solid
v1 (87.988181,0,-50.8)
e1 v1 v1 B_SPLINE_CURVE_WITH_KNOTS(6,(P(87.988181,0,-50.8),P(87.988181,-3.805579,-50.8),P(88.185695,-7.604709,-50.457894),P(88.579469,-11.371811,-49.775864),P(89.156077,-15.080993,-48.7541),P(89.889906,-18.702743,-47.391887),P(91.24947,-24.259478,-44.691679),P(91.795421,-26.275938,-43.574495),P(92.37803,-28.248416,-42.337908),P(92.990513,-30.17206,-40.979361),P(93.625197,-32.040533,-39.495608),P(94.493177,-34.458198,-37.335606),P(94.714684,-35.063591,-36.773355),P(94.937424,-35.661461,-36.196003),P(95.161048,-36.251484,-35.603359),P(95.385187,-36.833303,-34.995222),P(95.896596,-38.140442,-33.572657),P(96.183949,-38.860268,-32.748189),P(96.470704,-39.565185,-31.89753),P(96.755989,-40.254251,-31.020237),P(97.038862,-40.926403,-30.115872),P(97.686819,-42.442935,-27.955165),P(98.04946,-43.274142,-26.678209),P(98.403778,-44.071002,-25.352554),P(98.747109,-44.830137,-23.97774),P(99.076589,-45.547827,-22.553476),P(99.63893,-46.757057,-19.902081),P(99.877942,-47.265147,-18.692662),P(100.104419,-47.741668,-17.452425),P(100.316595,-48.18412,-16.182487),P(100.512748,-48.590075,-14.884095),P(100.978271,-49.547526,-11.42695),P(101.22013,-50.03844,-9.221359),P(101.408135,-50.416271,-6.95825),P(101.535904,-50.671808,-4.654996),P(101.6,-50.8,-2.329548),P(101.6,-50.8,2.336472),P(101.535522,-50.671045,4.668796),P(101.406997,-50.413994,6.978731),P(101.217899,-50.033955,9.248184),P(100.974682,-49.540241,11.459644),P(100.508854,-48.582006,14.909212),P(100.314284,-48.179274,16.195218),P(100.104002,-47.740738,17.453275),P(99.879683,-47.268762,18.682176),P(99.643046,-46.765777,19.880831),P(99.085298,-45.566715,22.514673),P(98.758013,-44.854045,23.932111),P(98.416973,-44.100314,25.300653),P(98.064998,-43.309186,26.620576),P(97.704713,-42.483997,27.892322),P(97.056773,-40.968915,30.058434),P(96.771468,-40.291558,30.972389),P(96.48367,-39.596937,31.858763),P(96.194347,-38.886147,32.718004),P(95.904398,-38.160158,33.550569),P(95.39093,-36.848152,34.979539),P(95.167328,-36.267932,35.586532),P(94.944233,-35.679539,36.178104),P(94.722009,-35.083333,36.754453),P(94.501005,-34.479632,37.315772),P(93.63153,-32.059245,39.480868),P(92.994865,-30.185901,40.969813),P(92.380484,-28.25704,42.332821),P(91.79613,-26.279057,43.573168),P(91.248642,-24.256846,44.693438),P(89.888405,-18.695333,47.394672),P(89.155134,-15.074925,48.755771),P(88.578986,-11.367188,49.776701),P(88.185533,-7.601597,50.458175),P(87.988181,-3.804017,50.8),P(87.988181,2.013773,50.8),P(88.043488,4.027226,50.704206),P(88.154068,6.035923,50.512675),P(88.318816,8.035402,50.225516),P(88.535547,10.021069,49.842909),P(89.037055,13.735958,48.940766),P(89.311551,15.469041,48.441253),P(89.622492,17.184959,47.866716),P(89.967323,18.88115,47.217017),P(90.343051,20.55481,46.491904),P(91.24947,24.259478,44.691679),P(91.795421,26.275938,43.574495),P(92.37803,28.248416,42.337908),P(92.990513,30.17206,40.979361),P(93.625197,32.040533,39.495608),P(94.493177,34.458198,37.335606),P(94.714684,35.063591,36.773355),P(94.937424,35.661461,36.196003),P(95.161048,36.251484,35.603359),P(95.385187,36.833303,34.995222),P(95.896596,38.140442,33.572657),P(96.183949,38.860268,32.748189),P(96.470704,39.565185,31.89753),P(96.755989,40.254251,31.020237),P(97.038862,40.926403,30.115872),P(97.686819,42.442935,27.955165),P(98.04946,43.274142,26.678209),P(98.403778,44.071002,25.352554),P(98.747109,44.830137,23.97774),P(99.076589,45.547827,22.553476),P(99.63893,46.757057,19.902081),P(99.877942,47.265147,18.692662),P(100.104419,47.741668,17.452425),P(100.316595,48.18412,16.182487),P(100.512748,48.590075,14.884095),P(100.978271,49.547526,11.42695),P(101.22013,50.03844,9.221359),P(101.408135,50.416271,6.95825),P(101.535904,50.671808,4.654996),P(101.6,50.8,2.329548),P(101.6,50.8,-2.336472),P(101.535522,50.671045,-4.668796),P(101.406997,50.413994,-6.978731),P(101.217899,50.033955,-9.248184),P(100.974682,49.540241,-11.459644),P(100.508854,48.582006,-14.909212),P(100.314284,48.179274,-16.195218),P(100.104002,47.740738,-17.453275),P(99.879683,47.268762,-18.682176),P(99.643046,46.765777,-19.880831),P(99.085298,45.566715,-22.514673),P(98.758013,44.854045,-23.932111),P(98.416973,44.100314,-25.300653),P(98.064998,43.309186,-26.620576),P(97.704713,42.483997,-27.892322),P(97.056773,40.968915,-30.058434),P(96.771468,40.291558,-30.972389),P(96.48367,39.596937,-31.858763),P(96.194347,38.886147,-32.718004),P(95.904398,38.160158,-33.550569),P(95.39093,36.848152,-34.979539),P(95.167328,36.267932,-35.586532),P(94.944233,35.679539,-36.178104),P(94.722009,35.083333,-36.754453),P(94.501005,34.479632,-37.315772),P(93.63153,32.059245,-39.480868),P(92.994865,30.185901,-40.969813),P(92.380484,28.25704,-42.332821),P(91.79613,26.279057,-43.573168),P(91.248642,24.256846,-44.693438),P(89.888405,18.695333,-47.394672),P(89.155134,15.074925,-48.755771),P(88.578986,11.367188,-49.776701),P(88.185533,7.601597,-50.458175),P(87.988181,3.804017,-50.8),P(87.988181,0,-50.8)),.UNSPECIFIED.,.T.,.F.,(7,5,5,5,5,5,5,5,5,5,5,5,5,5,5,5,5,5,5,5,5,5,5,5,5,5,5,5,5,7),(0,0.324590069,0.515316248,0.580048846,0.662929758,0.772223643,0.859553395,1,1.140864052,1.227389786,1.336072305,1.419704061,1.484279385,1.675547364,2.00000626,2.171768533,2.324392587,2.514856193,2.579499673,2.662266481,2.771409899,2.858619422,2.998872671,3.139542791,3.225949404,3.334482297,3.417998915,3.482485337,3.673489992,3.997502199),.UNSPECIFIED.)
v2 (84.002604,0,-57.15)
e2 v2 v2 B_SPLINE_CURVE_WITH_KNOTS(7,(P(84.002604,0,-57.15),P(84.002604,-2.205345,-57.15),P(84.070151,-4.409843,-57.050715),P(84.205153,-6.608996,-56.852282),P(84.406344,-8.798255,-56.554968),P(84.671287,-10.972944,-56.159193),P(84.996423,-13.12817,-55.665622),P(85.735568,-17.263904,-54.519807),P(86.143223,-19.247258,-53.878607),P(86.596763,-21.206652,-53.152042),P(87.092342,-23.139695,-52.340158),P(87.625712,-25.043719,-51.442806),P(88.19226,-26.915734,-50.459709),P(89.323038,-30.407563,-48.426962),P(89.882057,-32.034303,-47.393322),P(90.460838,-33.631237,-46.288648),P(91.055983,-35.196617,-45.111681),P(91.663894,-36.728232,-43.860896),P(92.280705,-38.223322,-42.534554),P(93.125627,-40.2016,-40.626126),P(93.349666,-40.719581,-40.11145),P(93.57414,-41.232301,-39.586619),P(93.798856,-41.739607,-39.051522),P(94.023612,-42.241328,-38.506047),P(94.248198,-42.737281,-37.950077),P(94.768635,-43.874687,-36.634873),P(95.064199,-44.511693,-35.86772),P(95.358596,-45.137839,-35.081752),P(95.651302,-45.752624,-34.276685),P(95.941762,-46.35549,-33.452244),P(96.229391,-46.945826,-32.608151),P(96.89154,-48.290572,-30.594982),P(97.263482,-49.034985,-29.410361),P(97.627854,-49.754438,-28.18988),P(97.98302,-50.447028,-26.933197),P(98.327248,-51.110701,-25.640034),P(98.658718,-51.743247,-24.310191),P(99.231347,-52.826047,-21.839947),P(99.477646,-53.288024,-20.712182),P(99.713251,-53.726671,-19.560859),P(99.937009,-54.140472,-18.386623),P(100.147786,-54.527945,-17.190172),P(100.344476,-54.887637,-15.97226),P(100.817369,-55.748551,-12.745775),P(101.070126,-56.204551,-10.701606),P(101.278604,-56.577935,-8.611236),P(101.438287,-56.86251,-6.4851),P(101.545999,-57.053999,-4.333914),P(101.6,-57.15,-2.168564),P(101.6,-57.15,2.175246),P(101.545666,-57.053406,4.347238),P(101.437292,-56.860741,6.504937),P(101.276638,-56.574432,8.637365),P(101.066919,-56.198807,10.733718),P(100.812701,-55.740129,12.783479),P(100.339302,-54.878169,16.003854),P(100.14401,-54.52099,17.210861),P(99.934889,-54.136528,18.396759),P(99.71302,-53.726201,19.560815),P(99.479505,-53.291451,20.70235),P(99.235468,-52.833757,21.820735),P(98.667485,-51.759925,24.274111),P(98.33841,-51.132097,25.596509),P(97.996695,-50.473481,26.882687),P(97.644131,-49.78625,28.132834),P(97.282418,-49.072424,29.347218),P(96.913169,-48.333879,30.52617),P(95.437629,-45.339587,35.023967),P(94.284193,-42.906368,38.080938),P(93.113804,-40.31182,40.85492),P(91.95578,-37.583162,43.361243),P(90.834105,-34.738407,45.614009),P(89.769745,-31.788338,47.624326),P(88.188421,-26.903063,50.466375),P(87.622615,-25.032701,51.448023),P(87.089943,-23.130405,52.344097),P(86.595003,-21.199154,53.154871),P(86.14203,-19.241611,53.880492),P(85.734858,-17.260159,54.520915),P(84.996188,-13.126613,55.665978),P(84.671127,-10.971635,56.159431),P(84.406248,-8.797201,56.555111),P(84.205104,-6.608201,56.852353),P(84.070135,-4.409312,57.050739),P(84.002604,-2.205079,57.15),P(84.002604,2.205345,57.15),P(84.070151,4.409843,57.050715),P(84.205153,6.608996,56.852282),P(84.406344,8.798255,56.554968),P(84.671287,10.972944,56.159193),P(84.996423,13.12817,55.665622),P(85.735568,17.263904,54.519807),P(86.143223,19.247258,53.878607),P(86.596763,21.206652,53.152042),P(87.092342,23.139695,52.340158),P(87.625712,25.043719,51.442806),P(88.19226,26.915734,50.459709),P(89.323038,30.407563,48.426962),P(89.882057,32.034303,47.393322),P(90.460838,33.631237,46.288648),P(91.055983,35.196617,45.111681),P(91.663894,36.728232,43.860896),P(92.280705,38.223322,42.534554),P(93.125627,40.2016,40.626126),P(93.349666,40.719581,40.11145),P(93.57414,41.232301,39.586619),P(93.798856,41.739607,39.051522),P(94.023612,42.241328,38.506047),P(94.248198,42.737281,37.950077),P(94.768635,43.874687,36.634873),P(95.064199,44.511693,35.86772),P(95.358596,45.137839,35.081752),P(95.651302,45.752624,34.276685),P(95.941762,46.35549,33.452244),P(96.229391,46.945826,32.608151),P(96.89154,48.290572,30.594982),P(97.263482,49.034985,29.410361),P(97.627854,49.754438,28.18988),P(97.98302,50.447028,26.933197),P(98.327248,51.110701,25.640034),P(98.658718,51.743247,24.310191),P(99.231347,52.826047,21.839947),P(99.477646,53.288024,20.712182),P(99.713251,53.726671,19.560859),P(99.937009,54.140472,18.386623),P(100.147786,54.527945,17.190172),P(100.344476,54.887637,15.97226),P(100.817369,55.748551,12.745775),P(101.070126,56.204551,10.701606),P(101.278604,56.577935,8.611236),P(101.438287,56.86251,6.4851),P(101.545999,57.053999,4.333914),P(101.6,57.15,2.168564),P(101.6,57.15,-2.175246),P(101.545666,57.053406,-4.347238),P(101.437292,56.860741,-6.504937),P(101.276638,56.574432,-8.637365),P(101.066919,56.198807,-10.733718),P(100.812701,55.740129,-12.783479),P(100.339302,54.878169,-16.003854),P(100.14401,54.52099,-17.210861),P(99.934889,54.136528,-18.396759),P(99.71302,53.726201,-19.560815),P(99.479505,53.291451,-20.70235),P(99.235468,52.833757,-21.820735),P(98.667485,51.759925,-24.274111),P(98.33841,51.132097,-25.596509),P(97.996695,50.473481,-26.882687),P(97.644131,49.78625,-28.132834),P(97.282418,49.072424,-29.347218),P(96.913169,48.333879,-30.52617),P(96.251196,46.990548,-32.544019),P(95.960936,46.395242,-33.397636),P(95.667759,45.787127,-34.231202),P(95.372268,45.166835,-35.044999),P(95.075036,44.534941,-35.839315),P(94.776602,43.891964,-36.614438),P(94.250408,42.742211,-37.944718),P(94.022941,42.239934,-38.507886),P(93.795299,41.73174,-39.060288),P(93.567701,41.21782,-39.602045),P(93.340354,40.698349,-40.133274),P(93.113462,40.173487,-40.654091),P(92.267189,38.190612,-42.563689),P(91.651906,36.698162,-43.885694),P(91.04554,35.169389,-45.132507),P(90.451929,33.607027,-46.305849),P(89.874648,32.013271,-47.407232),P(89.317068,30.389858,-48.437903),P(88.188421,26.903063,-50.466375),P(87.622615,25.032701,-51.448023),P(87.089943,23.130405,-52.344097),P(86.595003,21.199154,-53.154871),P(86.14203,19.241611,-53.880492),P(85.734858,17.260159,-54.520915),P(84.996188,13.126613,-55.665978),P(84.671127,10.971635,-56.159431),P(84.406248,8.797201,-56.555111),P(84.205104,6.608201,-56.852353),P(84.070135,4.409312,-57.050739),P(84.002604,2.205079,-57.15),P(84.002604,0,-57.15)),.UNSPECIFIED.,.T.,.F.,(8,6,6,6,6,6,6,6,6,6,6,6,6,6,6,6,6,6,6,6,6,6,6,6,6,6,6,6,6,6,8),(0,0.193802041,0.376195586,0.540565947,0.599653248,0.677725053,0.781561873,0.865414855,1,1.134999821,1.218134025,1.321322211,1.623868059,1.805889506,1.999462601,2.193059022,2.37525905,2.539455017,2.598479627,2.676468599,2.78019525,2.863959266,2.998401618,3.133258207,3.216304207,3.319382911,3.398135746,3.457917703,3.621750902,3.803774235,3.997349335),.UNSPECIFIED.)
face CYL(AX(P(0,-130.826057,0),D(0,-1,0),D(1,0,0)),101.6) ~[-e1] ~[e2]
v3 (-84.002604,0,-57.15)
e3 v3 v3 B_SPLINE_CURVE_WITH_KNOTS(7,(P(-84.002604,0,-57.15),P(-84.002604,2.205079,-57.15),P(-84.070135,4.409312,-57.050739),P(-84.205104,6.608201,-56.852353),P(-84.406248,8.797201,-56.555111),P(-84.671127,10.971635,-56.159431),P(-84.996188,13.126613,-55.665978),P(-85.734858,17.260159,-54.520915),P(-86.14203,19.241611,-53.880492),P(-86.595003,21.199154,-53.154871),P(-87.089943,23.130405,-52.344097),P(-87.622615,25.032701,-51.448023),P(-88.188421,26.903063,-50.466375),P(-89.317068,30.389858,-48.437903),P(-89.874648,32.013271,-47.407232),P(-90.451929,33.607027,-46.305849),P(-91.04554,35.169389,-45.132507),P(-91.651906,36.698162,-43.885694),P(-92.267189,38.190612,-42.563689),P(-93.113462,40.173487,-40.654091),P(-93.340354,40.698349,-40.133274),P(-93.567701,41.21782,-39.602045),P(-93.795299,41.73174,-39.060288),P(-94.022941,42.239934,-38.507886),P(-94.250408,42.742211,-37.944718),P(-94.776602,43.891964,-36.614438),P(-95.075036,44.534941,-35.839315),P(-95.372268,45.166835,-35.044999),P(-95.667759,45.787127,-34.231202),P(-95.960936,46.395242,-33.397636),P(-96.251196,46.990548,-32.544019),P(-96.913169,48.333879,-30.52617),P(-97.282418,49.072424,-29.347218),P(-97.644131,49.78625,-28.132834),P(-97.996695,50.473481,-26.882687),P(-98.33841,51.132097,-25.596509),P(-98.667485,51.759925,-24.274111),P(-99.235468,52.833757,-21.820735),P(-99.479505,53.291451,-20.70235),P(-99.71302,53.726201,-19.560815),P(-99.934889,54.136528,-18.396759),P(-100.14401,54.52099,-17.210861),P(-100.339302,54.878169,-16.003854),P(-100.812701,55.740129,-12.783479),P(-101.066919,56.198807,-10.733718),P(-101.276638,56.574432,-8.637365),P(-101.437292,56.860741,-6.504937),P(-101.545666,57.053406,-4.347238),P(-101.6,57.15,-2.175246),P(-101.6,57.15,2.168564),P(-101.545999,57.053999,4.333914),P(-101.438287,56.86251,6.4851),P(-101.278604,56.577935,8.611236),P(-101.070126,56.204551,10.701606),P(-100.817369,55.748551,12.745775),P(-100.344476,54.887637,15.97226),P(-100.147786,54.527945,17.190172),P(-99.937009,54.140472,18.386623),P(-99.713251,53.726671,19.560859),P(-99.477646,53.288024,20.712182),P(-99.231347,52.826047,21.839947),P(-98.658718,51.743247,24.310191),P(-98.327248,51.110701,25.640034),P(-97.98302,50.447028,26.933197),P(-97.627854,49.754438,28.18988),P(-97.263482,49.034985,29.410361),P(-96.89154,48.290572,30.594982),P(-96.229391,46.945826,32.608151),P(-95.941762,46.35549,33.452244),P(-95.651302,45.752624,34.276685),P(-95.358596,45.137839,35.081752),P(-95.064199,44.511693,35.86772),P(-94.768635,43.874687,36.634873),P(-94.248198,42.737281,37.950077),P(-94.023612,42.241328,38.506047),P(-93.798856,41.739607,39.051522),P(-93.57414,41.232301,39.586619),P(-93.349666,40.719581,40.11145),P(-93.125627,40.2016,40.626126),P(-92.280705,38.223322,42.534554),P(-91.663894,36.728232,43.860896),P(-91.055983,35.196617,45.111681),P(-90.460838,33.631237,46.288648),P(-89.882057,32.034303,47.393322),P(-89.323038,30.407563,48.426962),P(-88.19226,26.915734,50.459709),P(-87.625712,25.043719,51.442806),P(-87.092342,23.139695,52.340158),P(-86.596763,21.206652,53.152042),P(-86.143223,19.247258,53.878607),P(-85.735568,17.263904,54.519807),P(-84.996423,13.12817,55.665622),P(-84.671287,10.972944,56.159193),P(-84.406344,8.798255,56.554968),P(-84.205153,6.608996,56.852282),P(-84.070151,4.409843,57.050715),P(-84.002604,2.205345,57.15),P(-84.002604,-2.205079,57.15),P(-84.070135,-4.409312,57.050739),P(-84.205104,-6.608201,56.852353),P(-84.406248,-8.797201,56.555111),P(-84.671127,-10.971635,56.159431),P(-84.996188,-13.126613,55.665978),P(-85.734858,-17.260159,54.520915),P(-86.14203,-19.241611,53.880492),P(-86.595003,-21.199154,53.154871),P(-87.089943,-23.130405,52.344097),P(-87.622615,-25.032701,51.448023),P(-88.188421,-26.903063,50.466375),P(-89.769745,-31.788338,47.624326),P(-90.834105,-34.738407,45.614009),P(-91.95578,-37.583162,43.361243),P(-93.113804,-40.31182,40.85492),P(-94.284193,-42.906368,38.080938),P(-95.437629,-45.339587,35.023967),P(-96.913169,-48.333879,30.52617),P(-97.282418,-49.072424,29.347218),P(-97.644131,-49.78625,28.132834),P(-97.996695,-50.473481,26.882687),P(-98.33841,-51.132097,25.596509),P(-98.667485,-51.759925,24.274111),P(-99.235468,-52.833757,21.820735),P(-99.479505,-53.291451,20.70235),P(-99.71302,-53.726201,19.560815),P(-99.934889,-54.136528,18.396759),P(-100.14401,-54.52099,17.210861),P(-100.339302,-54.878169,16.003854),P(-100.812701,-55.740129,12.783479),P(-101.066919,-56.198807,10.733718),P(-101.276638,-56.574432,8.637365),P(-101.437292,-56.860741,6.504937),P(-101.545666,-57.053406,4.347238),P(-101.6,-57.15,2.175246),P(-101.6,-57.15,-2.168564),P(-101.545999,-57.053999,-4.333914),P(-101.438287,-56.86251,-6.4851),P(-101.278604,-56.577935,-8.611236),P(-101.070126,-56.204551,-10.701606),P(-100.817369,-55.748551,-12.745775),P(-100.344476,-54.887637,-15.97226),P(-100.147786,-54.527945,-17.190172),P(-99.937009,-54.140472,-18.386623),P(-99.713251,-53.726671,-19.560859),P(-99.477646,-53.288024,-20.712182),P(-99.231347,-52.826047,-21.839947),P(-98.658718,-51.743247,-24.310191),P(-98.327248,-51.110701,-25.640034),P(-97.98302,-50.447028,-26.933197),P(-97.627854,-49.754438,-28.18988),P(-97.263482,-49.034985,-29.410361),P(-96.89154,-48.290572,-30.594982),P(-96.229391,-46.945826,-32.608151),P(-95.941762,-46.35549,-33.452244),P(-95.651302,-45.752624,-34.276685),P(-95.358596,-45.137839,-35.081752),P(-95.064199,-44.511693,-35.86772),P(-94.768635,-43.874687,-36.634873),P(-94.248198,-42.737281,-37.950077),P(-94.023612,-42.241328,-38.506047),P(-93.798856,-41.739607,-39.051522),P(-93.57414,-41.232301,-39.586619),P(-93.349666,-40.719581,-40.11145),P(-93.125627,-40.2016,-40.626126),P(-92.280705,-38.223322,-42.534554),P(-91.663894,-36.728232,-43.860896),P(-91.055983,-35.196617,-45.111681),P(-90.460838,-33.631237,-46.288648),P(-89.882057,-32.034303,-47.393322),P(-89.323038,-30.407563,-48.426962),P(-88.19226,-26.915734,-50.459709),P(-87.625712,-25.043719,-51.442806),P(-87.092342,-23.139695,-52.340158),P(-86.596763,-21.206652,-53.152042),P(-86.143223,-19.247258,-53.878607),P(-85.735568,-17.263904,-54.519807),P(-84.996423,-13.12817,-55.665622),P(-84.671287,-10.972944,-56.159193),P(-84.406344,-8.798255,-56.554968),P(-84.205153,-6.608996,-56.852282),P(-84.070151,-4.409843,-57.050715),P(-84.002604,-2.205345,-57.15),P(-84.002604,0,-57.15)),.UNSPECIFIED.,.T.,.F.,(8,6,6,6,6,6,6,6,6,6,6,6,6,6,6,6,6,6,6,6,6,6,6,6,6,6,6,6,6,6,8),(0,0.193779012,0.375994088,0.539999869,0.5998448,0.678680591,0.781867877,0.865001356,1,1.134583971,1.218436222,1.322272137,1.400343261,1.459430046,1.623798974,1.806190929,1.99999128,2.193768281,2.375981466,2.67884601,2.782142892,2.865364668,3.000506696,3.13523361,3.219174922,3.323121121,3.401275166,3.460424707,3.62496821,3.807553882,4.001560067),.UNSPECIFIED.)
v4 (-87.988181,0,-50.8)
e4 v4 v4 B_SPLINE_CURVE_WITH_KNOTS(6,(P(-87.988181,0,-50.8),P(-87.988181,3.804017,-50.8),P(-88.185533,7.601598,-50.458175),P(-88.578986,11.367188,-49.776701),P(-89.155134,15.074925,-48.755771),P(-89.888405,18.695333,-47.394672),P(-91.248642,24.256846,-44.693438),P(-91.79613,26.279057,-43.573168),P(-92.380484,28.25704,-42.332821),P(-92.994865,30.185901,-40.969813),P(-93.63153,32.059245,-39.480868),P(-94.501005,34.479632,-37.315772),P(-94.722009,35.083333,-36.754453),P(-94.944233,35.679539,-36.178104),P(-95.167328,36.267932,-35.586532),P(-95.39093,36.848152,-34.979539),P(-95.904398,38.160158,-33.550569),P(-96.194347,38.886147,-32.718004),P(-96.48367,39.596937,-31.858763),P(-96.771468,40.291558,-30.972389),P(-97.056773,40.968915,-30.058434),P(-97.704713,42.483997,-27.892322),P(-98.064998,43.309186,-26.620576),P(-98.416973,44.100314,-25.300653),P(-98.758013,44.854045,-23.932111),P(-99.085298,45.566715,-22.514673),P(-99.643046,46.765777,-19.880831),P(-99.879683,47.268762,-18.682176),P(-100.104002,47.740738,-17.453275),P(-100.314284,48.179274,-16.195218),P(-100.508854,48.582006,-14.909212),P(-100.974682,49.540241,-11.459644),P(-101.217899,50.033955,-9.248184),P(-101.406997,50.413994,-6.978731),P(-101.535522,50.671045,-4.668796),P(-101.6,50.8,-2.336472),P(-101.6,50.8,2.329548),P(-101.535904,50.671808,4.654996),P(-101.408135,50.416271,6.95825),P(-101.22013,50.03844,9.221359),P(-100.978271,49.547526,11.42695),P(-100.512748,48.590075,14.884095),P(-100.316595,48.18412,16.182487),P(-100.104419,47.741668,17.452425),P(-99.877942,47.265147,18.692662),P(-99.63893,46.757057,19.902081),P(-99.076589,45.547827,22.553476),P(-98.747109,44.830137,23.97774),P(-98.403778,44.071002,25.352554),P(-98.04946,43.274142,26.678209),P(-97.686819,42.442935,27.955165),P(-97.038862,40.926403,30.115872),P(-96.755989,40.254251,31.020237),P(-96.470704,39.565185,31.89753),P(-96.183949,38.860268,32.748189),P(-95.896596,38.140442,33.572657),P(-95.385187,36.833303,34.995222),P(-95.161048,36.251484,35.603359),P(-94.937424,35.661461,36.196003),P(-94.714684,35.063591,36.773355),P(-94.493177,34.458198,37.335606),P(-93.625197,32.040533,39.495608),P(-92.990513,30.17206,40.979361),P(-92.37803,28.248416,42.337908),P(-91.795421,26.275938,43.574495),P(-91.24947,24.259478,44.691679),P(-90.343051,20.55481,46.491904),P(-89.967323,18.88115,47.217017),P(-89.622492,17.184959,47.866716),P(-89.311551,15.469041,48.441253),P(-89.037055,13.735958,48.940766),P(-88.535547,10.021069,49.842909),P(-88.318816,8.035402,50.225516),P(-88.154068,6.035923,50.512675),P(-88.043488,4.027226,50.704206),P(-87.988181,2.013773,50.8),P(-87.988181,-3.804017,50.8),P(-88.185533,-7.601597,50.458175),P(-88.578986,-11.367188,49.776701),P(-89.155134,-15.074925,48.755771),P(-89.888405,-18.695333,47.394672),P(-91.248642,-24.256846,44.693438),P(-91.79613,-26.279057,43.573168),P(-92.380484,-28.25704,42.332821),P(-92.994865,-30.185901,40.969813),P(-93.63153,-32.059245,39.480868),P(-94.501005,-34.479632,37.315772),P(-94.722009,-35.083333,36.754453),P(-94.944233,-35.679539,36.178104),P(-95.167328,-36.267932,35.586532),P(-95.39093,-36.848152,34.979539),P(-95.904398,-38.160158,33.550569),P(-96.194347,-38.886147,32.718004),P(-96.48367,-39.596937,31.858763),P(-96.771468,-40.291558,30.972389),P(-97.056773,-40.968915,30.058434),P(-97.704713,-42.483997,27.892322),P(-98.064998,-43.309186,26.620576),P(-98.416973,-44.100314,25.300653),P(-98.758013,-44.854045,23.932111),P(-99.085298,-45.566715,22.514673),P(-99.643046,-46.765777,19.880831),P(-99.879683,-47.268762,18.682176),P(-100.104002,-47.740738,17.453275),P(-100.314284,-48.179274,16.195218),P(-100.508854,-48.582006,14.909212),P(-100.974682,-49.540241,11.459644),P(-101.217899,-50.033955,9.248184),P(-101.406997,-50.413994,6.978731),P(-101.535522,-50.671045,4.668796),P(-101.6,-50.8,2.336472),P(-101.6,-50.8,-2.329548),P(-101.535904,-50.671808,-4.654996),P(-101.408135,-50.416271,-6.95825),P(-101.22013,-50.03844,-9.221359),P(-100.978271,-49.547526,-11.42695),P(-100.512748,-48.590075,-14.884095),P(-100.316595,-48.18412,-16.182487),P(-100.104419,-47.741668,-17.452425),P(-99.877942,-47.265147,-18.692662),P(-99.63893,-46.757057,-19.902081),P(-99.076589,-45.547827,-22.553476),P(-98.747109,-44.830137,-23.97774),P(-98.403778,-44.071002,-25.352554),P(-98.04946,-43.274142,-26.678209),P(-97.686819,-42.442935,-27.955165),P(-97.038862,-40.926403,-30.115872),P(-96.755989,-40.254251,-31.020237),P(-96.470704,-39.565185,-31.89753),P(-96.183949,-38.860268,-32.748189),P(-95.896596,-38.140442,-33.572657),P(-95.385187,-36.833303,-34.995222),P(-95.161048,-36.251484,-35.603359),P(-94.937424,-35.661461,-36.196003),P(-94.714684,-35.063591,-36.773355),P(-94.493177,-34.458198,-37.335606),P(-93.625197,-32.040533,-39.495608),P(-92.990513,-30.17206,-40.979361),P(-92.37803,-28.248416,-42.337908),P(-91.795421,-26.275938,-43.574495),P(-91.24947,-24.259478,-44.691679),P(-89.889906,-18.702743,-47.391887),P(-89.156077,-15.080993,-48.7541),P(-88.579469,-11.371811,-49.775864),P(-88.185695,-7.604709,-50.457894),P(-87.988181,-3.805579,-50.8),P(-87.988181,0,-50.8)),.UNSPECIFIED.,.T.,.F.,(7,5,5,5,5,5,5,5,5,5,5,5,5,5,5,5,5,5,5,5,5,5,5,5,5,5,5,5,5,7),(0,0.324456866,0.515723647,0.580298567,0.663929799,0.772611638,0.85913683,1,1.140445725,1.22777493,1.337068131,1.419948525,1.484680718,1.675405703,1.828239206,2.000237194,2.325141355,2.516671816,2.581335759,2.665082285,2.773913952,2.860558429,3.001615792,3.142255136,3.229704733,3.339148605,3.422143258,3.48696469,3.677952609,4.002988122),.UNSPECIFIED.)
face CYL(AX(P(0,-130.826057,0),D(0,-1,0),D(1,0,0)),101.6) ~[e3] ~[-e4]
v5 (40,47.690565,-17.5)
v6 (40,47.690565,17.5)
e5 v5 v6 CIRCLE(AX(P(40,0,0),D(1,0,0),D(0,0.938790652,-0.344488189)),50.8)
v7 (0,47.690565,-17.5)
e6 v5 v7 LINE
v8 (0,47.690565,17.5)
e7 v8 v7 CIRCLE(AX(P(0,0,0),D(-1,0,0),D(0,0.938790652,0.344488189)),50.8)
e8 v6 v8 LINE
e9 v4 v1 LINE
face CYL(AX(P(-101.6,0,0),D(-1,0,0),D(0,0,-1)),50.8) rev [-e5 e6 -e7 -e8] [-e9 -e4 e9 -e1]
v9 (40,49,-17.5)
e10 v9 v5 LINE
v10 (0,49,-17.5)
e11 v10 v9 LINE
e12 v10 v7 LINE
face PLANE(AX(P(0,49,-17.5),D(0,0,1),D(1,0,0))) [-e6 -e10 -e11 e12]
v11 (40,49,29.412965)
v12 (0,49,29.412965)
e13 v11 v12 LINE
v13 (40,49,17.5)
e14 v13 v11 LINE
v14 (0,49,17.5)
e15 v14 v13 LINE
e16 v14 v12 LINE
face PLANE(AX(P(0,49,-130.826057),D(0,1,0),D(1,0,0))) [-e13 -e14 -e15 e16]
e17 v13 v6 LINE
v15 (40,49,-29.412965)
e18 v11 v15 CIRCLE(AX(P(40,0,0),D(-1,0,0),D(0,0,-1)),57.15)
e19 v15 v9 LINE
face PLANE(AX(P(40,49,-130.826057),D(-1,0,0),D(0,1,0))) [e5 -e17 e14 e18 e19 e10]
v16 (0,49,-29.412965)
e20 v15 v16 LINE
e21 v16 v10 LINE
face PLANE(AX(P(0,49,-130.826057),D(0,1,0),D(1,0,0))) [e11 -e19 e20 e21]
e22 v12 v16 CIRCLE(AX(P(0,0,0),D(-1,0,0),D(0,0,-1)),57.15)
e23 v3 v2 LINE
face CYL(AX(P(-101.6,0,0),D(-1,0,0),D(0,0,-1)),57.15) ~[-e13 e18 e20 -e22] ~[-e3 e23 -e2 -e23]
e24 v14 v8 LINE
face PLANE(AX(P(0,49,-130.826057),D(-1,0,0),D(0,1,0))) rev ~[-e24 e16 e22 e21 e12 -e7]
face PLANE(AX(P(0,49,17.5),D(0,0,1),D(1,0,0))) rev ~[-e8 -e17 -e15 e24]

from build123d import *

# Parameters (mm, degrees)
BOSS_EXTRUDE1_DEPTH      = 101.6
BOSS_EXTRUDE1_DEPTH_BACK = 101.6
SKETCH1_R                = 57.15
SKETCH1_R_2              = 50.8
CUT_EXTRUDE3_DEPTH       = 130.826056707
CUT_EXTRUDE3_DEPTH_BACK  = 130.826056707
SKETCH3_W                = 40
SKETCH3_H                = 10
SKETCH5_W                = 40
SKETCH5_H                = 35
CUT_EXTRUDE5_DEPTH       = 18.15
CUT_EXTRUDE6_DEPTH       = 130.826056707
CUT_EXTRUDE6_DEPTH_BACK  = 130.826056707
SKETCH6_W                = 252.16572489
SKETCH6_H                = 244.887597008
SKETCH6_R                = 101.6


with BuildPart() as part:
    # Sketch1 → Boss-Extrude1 (new, two sides: drawn at the far end of the back side and taken through both)
    with BuildSketch(Plane(origin=(0, 0, 0), x_dir=(0, 0, -1), z_dir=(1, 0, 0)).offset(-BOSS_EXTRUDE1_DEPTH_BACK)):
        Circle(SKETCH1_R)
        Circle(SKETCH1_R_2, mode=Mode.SUBTRACT)
    extrude(amount=BOSS_EXTRUDE1_DEPTH + BOSS_EXTRUDE1_DEPTH_BACK)

    # Sketch3 → Cut-Extrude3 (cut, two sides: drawn at the far end of the back side and taken through both)
    with BuildSketch(Plane.XY.offset(-CUT_EXTRUDE3_DEPTH_BACK)):
        with Locations((20, 54)):
            Rectangle(SKETCH3_W, SKETCH3_H)
    extrude(amount=CUT_EXTRUDE3_DEPTH + CUT_EXTRUDE3_DEPTH_BACK, mode=Mode.SUBTRACT)

    # Sketch5 → Cut-Extrude5 (cut)
    with BuildSketch(Plane(origin=(0, 49, 0), x_dir=(1, 0, 0), z_dir=(0, 1, 0))):
        with Locations((20, 0)):
            Rectangle(SKETCH5_W, SKETCH5_H)
    extrude(amount=-CUT_EXTRUDE5_DEPTH, mode=Mode.SUBTRACT)

    # Sketch6 → Cut-Extrude6 (cut, two sides: drawn at the far end of the back side and taken through both)
    with BuildSketch(Plane(origin=(0, 0, 0), x_dir=(1, 0, 0), z_dir=(0, 1, 0)).offset(-CUT_EXTRUDE6_DEPTH_BACK)):
        Rectangle(SKETCH6_W, SKETCH6_H)
        Circle(SKETCH6_R, mode=Mode.SUBTRACT)
    extrude(amount=CUT_EXTRUDE6_DEPTH + CUT_EXTRUDE6_DEPTH_BACK, mode=Mode.SUBTRACT)


solid = part.part
